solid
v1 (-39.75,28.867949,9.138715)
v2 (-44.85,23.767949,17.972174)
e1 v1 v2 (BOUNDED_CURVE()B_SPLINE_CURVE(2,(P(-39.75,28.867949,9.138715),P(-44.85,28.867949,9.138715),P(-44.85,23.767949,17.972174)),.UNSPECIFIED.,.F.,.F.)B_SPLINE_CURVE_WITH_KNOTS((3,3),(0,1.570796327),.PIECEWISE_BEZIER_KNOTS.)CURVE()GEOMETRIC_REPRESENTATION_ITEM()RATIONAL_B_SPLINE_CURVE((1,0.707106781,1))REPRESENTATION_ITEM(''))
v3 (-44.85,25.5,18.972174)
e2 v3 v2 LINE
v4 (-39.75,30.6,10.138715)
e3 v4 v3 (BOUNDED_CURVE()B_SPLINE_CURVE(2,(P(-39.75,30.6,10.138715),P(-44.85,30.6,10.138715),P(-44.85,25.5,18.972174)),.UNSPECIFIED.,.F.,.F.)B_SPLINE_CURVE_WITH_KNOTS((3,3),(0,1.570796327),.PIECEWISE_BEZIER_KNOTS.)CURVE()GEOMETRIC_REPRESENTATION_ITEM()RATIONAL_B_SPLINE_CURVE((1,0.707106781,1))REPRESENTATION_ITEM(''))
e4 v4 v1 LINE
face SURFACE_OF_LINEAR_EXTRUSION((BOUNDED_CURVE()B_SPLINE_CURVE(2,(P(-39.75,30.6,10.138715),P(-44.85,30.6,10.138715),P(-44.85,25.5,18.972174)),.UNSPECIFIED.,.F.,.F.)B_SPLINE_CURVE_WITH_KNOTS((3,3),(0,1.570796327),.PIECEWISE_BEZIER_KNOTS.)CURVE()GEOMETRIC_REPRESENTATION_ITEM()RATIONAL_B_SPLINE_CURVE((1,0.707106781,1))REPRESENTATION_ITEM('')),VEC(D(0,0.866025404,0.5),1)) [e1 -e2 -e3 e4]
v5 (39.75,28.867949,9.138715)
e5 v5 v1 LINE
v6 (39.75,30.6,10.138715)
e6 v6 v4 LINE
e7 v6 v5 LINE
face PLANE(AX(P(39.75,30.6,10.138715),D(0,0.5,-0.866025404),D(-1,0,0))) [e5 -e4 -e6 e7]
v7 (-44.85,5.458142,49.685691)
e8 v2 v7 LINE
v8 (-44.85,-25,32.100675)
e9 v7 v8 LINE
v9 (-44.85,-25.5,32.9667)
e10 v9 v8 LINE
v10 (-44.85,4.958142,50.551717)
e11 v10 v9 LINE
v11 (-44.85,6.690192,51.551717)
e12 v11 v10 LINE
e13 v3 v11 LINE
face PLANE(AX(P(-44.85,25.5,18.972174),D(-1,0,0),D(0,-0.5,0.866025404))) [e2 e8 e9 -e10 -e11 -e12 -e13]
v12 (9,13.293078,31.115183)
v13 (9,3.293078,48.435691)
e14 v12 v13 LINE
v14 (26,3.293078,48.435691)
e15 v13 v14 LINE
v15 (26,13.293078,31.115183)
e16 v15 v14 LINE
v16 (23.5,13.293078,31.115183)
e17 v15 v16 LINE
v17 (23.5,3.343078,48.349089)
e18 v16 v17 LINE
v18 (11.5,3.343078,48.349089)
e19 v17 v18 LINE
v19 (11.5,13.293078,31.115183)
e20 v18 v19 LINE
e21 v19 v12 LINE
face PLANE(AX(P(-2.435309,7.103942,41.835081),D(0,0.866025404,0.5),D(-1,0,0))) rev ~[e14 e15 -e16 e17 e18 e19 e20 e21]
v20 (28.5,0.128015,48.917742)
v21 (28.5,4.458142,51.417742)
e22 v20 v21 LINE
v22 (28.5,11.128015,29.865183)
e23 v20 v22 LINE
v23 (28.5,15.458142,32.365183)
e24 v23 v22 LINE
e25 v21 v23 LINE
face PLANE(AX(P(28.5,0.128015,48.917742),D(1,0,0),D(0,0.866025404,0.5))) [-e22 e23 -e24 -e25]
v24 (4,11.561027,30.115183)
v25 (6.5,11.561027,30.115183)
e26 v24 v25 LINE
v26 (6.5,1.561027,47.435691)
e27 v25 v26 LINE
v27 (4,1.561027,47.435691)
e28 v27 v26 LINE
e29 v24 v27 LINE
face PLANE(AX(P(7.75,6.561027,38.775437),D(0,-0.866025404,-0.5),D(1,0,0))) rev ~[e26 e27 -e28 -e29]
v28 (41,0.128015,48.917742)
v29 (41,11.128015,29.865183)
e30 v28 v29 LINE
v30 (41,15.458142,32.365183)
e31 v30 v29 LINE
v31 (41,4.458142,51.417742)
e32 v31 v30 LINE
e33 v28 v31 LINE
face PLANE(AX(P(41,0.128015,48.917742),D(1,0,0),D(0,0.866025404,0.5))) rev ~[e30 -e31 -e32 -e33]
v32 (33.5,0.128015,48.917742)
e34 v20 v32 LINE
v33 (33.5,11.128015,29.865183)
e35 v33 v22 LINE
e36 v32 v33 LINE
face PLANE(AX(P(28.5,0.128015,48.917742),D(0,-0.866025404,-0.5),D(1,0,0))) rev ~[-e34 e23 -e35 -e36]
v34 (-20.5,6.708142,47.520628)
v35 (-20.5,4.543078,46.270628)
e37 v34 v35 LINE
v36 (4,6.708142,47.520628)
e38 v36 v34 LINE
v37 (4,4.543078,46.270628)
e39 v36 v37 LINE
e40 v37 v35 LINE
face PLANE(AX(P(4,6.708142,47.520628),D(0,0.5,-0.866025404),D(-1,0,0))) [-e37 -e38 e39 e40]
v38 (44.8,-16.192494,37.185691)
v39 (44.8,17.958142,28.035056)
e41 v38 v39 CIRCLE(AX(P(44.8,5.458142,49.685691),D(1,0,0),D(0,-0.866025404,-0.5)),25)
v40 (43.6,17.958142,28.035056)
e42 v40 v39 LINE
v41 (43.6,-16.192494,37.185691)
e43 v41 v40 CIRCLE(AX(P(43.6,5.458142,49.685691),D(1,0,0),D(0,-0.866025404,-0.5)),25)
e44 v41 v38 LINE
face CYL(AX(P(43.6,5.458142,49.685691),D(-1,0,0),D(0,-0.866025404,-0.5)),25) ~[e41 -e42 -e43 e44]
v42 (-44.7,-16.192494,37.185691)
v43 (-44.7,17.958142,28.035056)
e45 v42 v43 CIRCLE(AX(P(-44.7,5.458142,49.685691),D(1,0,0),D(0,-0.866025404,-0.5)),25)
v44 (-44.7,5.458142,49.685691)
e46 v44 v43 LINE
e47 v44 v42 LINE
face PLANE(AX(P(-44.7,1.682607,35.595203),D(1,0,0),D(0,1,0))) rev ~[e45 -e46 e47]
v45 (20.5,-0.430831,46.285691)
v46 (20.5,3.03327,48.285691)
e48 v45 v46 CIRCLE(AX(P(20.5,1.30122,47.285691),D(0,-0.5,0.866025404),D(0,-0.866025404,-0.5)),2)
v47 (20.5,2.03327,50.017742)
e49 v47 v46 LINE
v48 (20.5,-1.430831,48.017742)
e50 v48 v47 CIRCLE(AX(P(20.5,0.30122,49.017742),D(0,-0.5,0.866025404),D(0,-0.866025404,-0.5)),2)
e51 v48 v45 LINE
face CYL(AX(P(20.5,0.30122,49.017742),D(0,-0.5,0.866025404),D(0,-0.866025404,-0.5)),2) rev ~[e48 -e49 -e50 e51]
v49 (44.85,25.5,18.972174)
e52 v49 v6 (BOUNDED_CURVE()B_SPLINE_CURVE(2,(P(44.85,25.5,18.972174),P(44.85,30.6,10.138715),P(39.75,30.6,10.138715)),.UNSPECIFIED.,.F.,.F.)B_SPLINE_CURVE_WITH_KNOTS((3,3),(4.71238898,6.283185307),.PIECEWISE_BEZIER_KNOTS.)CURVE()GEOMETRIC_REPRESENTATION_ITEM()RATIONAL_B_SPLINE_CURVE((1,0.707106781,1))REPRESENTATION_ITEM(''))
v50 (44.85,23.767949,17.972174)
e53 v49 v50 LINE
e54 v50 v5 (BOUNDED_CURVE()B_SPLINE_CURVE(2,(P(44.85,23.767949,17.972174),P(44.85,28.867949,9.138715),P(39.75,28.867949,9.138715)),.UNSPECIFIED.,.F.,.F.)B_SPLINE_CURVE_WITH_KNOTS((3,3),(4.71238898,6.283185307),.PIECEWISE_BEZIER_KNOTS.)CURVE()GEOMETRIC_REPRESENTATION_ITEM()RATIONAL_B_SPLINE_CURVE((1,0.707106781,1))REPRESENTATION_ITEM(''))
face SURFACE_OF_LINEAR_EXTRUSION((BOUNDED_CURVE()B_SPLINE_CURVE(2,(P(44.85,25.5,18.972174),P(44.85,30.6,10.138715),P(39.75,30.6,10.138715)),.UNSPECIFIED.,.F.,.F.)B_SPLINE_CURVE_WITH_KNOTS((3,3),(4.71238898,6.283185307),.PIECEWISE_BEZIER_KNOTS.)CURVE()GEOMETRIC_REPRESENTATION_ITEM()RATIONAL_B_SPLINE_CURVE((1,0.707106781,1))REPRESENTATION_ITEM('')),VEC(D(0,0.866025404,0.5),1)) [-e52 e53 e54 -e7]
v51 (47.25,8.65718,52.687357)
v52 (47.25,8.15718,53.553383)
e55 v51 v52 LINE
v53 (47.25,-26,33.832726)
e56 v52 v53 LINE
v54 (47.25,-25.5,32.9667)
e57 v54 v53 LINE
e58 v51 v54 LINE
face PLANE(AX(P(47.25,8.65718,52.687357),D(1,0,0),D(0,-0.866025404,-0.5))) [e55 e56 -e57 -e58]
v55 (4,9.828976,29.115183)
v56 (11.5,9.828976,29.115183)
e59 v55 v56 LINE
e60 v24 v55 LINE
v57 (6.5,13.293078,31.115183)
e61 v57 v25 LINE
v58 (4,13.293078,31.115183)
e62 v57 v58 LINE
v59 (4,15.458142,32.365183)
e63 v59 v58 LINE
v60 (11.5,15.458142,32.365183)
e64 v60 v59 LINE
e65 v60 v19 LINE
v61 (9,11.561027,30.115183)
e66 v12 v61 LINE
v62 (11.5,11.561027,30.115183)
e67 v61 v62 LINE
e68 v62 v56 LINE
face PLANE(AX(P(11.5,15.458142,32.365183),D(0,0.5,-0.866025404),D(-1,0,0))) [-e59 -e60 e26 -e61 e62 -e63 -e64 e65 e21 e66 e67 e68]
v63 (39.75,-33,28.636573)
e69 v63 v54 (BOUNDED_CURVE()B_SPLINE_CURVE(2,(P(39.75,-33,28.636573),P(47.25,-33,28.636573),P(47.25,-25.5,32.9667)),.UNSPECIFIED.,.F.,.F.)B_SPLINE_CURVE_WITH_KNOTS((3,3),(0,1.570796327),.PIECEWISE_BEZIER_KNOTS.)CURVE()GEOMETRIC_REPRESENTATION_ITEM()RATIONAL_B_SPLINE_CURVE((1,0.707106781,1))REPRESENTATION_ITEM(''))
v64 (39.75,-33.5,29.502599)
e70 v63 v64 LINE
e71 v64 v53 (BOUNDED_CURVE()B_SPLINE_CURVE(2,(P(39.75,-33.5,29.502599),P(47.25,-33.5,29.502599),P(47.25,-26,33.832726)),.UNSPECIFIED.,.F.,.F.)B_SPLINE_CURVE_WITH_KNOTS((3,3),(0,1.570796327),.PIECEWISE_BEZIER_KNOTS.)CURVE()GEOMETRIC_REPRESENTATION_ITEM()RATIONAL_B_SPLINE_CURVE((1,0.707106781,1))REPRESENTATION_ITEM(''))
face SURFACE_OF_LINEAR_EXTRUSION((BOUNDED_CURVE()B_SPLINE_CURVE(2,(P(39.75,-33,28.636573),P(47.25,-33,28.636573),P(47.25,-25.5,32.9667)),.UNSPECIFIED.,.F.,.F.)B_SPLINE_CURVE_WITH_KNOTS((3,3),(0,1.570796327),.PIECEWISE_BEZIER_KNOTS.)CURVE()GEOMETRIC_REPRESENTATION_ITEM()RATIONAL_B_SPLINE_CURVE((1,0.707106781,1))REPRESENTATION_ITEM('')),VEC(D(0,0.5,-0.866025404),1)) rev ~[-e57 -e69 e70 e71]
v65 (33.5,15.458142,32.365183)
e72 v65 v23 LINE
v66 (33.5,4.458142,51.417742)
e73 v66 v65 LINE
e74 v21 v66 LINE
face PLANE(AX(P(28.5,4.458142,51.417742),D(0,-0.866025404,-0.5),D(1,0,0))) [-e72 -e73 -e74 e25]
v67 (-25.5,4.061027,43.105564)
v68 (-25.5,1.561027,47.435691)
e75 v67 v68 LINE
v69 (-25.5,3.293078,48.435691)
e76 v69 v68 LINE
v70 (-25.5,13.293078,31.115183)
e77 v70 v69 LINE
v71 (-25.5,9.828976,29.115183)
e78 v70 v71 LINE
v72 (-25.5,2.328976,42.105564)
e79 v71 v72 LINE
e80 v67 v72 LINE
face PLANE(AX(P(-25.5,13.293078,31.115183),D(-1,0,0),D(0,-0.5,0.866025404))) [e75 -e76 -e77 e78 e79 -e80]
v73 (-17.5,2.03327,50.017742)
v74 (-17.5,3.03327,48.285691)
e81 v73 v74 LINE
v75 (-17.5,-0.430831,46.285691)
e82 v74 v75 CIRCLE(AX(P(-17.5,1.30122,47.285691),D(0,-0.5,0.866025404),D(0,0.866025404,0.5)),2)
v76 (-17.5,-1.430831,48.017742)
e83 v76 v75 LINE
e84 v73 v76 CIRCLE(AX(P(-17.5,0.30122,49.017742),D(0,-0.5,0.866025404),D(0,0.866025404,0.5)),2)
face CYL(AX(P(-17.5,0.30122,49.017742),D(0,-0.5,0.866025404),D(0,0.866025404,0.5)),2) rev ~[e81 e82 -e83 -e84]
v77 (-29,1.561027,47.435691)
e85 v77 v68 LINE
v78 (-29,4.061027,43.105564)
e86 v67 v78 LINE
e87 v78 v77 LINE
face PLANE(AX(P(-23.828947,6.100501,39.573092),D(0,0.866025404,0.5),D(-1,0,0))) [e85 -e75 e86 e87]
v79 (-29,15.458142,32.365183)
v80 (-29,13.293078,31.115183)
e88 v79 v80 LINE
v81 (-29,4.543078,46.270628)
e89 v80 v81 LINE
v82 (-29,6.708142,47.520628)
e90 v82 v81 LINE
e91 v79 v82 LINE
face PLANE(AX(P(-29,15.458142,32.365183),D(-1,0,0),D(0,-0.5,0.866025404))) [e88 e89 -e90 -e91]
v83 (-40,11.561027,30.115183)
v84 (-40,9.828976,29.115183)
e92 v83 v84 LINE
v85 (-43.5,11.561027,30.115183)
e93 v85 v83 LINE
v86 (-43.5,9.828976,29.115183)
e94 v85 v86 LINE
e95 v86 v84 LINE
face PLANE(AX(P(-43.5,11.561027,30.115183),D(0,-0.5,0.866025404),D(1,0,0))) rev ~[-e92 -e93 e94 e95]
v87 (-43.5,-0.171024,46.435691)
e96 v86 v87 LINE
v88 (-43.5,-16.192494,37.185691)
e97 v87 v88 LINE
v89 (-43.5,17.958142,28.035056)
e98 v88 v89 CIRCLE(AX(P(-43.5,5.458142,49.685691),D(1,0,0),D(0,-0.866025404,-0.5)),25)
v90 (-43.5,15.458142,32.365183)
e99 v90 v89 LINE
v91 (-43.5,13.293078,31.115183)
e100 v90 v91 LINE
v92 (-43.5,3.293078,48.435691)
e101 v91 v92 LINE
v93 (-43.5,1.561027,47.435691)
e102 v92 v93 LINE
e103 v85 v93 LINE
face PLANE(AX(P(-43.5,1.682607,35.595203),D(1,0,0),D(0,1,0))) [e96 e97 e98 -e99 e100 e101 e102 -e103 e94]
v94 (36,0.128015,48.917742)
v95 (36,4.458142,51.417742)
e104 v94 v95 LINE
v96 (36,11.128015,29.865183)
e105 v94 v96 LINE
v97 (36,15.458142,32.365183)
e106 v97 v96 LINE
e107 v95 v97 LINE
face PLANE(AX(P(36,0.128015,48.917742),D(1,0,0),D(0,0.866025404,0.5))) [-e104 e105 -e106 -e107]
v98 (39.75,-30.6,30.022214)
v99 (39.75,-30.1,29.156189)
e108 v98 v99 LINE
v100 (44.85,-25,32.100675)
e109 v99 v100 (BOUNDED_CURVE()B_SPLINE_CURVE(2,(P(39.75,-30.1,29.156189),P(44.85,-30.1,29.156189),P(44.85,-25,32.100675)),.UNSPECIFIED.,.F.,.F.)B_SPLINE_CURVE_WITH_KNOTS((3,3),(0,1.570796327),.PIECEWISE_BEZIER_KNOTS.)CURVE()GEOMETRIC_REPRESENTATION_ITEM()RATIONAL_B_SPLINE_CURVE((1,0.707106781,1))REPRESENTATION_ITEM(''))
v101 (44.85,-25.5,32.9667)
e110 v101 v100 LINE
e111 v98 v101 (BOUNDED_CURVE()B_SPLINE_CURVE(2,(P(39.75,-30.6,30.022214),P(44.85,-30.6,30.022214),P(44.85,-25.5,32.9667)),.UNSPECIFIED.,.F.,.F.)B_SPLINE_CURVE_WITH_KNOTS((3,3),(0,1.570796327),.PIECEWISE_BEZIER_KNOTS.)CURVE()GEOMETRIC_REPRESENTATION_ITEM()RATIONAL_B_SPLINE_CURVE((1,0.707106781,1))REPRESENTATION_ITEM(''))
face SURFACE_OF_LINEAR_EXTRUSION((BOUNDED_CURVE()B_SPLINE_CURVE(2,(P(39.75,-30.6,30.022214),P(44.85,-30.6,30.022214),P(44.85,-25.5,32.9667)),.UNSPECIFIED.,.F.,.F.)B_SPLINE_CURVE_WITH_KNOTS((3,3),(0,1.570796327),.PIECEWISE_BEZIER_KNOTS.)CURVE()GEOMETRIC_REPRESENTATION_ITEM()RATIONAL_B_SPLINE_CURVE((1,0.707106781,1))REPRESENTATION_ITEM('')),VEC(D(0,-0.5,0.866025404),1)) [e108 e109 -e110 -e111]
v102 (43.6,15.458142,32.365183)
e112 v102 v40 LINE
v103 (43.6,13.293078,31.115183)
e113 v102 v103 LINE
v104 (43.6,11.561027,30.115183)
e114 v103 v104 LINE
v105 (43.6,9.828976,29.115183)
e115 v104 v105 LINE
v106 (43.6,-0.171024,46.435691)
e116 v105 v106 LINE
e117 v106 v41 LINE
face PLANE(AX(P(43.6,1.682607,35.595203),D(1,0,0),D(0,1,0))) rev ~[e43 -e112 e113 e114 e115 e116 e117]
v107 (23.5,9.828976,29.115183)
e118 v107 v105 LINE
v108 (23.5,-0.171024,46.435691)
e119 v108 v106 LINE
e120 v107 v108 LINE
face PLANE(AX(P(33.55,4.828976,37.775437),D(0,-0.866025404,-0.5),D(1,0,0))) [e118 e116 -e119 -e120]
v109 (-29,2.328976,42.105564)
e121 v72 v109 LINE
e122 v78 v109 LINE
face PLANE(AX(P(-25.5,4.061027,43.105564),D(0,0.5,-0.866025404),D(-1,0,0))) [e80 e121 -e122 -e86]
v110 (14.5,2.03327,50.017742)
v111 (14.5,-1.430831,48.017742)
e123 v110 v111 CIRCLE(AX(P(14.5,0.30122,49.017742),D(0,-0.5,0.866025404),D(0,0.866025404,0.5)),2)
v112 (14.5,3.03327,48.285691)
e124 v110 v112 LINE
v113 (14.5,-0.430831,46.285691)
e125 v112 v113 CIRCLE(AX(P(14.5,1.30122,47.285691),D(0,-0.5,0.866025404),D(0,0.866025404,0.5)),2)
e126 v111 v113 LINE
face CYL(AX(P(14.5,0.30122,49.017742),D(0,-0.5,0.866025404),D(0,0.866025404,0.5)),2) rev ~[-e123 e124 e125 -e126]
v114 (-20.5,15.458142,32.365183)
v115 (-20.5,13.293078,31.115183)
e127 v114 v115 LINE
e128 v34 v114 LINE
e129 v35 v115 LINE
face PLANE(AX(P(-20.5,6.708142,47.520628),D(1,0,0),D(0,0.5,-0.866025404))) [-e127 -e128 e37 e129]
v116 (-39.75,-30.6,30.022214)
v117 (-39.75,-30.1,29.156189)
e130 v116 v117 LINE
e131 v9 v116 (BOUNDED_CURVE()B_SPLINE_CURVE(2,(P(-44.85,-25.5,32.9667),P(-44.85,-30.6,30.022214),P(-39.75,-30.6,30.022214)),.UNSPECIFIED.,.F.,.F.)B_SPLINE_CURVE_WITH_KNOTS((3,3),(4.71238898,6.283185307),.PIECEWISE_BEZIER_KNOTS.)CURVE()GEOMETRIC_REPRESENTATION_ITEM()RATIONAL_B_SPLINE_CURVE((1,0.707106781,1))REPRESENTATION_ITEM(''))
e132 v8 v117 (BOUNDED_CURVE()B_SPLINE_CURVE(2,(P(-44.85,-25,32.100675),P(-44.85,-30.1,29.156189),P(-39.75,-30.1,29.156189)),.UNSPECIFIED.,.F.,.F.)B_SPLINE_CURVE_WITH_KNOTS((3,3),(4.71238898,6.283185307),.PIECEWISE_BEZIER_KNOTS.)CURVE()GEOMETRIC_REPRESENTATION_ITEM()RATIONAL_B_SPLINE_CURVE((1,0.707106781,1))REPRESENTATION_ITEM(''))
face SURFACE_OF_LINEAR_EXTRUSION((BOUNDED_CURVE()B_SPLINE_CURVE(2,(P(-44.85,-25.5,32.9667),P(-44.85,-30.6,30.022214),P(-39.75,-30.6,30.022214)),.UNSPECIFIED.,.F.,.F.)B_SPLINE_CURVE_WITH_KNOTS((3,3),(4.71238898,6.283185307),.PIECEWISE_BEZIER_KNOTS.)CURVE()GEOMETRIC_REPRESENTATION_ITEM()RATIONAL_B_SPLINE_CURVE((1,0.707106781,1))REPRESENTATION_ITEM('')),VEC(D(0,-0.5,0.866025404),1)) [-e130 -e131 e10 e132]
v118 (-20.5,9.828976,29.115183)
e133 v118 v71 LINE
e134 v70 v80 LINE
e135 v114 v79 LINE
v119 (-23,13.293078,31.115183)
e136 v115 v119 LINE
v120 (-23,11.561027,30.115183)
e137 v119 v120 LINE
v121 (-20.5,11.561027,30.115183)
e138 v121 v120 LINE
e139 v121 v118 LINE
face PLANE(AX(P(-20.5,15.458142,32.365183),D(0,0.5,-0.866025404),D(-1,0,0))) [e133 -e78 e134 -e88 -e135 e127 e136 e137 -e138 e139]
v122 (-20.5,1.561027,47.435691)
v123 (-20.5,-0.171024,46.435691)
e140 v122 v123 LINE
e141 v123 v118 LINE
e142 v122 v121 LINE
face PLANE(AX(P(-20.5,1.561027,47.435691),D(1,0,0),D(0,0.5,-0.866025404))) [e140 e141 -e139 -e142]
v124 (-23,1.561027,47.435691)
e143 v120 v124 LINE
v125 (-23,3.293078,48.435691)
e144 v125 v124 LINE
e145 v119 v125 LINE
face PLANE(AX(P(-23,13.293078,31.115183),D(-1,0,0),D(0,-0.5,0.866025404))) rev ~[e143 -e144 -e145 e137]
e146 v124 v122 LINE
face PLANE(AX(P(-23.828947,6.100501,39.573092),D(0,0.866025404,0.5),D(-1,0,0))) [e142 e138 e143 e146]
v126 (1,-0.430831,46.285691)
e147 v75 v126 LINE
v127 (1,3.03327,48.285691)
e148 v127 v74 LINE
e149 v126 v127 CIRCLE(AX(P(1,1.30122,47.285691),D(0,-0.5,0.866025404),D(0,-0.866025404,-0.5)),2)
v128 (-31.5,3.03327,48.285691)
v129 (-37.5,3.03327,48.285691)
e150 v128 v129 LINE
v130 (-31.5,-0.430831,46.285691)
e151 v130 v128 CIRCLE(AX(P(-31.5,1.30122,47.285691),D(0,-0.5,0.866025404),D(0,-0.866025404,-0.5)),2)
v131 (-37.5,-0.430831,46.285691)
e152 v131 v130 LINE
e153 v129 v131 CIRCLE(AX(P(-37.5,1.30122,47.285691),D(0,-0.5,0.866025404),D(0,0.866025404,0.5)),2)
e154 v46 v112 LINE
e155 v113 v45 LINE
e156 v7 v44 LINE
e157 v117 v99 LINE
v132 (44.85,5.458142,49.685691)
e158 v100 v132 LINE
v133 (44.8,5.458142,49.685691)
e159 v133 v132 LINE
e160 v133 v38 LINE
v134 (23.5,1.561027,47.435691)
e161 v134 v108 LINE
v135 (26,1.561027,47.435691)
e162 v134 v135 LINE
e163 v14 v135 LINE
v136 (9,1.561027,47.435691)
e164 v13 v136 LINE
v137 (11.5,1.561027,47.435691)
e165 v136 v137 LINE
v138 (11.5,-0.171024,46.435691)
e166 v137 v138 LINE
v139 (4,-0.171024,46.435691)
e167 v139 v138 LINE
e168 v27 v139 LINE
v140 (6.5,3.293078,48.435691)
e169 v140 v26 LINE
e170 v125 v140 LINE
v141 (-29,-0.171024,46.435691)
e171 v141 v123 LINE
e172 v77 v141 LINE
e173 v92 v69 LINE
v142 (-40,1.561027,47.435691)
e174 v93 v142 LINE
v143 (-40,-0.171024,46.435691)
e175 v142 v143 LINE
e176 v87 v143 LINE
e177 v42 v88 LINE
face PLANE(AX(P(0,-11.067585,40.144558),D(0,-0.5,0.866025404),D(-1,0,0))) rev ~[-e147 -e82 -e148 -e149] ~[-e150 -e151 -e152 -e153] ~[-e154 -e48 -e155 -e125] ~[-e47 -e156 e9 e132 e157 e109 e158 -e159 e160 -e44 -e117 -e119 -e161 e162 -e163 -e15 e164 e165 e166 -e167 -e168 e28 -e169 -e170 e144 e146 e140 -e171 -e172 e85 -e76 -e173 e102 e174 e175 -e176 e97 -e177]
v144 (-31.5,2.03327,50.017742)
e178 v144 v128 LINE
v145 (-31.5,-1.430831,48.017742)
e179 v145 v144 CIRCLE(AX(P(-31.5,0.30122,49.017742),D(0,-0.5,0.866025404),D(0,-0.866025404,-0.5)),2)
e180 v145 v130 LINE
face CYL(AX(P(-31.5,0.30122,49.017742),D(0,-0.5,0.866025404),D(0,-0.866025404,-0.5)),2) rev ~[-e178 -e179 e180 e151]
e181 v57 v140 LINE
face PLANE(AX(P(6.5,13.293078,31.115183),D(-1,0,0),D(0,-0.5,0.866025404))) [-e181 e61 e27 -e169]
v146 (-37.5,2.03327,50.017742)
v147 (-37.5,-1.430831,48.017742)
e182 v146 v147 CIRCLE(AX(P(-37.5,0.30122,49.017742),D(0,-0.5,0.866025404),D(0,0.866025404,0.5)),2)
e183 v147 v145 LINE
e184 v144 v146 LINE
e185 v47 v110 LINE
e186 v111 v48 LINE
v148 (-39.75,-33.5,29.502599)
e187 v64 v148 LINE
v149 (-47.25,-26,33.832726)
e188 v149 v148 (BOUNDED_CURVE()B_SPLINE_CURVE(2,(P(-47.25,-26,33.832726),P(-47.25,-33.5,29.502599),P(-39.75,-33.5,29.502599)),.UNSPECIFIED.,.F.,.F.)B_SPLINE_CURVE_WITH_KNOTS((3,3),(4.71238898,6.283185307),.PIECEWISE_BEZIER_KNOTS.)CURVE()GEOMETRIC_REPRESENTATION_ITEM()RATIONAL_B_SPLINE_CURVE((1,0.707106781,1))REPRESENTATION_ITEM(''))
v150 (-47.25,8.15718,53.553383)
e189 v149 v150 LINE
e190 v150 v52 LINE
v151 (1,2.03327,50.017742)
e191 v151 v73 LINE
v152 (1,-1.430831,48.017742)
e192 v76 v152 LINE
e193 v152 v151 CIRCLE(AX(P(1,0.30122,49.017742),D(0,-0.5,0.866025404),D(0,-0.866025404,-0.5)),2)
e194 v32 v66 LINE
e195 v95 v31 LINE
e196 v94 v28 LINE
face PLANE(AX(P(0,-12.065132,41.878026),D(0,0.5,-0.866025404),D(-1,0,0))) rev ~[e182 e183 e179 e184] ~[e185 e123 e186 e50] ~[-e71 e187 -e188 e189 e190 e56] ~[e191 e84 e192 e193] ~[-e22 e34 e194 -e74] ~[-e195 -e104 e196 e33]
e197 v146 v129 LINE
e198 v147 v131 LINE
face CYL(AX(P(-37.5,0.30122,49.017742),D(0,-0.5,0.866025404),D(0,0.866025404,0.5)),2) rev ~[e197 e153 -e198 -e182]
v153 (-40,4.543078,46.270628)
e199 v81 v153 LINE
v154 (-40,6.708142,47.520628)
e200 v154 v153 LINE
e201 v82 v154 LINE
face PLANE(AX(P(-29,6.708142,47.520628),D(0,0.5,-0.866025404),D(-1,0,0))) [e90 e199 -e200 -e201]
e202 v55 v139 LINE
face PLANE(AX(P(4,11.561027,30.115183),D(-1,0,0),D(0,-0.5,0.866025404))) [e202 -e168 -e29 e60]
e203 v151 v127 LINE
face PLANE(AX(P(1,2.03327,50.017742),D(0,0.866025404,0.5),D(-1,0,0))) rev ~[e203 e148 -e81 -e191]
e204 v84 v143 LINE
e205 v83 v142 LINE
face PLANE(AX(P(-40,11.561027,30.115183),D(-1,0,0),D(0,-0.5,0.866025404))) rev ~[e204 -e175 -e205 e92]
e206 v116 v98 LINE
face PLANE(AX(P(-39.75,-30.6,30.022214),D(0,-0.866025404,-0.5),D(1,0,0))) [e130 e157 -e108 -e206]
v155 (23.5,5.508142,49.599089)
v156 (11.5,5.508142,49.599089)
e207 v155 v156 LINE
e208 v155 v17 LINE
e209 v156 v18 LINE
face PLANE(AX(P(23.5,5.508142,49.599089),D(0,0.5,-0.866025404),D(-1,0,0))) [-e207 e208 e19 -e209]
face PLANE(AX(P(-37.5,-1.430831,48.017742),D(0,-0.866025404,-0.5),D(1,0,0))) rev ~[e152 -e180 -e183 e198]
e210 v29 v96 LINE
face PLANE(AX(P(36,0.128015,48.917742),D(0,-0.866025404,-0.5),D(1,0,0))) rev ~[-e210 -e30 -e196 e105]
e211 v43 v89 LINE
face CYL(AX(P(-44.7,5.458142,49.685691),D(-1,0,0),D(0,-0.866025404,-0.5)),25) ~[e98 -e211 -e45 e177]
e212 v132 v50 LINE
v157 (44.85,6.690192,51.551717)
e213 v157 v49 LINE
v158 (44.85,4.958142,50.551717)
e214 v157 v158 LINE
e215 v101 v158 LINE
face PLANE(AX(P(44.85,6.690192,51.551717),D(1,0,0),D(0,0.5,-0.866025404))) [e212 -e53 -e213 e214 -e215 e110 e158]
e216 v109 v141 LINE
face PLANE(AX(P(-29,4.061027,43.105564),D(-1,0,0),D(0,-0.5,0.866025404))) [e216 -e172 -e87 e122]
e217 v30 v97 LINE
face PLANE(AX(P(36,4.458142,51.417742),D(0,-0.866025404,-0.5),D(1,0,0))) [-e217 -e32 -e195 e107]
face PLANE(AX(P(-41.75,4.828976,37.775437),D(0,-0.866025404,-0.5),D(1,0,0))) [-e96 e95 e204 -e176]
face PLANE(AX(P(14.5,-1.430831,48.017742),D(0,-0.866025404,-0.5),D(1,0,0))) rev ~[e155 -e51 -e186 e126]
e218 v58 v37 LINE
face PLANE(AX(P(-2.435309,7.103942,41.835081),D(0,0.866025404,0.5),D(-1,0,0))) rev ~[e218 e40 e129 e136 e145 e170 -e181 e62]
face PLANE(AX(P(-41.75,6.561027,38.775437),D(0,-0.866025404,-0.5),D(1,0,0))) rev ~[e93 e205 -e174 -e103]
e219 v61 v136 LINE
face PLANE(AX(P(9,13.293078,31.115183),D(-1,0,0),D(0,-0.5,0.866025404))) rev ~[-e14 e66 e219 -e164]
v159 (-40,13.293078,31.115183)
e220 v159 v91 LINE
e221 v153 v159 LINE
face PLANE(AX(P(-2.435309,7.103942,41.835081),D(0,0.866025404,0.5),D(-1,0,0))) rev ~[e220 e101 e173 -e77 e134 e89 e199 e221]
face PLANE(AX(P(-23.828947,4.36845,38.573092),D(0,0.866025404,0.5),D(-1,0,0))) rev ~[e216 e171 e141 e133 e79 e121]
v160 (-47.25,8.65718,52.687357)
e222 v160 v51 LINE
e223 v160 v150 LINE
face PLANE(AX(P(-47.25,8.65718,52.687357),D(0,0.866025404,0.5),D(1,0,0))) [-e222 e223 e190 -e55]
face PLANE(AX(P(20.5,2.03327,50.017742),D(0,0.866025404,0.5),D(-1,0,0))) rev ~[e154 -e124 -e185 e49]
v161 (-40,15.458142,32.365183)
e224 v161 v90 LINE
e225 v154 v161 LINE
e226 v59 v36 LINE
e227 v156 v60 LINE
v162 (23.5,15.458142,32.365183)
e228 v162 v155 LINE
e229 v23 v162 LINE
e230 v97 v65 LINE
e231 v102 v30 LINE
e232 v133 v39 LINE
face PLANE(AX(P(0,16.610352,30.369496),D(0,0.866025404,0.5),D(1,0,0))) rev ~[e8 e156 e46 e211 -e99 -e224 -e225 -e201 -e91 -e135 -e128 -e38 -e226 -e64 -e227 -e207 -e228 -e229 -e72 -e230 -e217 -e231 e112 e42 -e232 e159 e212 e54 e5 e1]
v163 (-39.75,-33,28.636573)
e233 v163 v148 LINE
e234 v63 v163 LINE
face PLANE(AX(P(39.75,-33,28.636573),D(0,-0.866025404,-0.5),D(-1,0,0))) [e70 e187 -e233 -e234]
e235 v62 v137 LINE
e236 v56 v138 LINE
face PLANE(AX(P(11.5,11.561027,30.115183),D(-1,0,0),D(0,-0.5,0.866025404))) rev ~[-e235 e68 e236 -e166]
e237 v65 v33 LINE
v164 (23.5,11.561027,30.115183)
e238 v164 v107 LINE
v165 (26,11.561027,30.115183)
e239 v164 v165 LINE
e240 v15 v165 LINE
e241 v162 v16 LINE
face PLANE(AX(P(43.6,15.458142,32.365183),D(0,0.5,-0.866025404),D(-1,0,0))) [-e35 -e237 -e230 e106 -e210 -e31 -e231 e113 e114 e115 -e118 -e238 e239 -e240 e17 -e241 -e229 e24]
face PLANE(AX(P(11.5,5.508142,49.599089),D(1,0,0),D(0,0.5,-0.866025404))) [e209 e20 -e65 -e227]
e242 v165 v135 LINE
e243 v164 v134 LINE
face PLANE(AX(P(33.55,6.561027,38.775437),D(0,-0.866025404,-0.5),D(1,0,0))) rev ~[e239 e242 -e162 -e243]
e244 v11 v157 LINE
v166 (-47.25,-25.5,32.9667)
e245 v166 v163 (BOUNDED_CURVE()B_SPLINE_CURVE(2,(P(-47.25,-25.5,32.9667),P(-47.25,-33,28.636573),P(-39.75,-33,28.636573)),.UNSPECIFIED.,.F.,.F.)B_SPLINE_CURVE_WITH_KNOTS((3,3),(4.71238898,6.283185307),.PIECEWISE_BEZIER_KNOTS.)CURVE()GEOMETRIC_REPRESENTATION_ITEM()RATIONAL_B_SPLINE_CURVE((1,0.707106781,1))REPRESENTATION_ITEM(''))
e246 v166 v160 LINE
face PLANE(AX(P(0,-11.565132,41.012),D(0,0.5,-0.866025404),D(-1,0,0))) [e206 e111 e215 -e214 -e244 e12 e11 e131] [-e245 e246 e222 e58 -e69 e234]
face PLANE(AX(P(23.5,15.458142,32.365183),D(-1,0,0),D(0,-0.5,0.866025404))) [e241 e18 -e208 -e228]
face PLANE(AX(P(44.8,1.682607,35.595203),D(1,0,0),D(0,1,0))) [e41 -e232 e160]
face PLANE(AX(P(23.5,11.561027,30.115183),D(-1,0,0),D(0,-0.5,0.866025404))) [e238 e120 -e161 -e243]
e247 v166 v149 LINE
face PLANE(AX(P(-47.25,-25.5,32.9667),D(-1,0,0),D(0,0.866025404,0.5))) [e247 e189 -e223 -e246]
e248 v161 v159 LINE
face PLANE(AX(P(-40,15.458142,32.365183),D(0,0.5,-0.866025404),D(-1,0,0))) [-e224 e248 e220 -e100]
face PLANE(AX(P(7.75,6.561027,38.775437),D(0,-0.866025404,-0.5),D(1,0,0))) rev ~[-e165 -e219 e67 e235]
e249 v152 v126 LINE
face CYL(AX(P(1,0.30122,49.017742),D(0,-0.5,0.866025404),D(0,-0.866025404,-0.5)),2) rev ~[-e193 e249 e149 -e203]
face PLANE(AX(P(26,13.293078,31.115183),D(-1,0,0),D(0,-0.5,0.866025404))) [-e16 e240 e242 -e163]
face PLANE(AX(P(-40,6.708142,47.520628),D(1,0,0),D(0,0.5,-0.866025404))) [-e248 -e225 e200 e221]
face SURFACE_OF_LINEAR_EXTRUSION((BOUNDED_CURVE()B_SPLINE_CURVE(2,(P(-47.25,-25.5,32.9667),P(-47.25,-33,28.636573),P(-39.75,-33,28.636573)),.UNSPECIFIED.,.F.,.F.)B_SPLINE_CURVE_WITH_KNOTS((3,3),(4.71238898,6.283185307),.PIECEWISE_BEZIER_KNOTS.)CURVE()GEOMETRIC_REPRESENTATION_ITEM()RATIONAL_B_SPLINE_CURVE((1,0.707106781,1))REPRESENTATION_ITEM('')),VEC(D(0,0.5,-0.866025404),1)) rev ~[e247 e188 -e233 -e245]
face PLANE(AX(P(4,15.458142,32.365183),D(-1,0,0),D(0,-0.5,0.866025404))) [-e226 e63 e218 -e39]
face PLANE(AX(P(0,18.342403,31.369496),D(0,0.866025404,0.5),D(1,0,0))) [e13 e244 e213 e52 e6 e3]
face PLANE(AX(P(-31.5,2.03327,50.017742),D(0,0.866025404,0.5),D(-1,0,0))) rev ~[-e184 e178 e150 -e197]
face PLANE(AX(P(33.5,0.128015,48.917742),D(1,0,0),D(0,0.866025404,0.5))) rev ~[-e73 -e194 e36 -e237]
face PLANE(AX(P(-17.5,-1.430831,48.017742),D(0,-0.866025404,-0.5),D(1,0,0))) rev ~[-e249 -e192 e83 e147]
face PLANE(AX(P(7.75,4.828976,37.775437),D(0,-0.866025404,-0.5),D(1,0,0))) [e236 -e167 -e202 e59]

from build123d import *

# Parameters (mm, degrees)
SKETCH020_AS_DRAWN_W                      = 5
SKETCH020_AS_DRAWN_H                      = 5
EXTRUDE021_DEPTH                          = 25
EXTRUDE021_ONTO_SKETCH020_PLACEMENT_ANGLE = 30
SKETCH018_AS_DRAWN_W                      = 17.6
SKETCH018_AS_DRAWN_H                      = 20
SKETCH018_AS_DRAWN_W_2                    = 2.5
EXTRUDE019_DEPTH                          = 2
EXTRUDE019_ONTO_SKETCH018_PLACEMENT_ANGLE = 120
EXTRUDE018_DEPTH                          = 2.5
EXTRUDE018_ONTO_SKETCH017_PLACEMENT_ANGLE = 120
EXTRUDE017_DEPTH                          = 1.2
EXTRUDE016_DEPTH                          = 1.2
EXTRUDE014_DEPTH                          = 1
EXTRUDE015_DEPTH                          = 1
EXTRUDE015_ONTO_SKETCH015_PLACEMENT_ANGLE = 30
EXTRUDE013_DEPTH                          = 2
SKETCH019_AS_DRAWN_W                      = 3.5
SKETCH019_AS_DRAWN_H                      = 20
SKETCH019_AS_DRAWN_W_2                    = 7.5
SKETCH019_AS_DRAWN_W_3                    = 20.1
EXTRUDE020_DEPTH                          = 2
EXTRUDE020_ONTO_SKETCH019_PLACEMENT_ANGLE = 120


with BuildPart() as extrude021:
    # Sketch020 as drawn → Extrude021 (new)
    with BuildSketch(Plane.XY):
        with BuildLine():
            ThreePointArc((-17.5, 26.7697348593), (-19.5, 24.7697348593), (-17.5, 22.7697348593))
            Line((-17.5, 22.7697348593), (1, 22.7697348593))
            ThreePointArc((1, 22.7697348593), (3, 24.7697348593), (1, 26.7697348593))
            Line((1, 26.7697348593), (-17.5, 26.7697348593))
        make_face()
        with BuildLine():
            ThreePointArc((-31.5, 22.7697348593), (-29.5, 24.7697348593), (-31.5, 26.7697348593))
            Line((-31.5, 26.7697348593), (-37.5, 26.7697348593))
            ThreePointArc((-37.5, 26.7697348593), (-39.5, 24.7697348593), (-37.5, 22.7697348593))
            Line((-37.5, 22.7697348593), (-31.5, 22.7697348593))
        make_face()
        with BuildLine():
            ThreePointArc((14.5, 26.7697348593), (12.5, 24.7697348593), (14.5, 22.7697348593))
            Line((14.5, 22.7697348593), (20.5, 22.7697348593))
            ThreePointArc((20.5, 22.7697348593), (22.5, 24.7697348593), (20.5, 26.7697348593))
            Line((20.5, 26.7697348593), (14.5, 26.7697348593))
        make_face()
        with Locations((31, 27.0697348593)):
            Rectangle(SKETCH020_AS_DRAWN_W, SKETCH020_AS_DRAWN_H)
        with Locations((38.5, 27.0697348593)):
            Rectangle(SKETCH020_AS_DRAWN_W, SKETCH020_AS_DRAWN_H)
    extrude(amount=-EXTRUDE021_DEPTH)


with BuildPart() as extrude021_1:
    # Extrude021 onto Sketch020 placement: moved
    add(extrude021.part.moved(Location((0, -21.15, 36.6328745801))).rotate(Axis((0, -21.15, 36.6328745801), (1, 0, 0)), EXTRUDE021_ONTO_SKETCH020_PLACEMENT_ANGLE))


with BuildPart() as extrude019:
    # Sketch018 as drawn → Extrude019 (new)
    with BuildSketch(Plane.XY):
        with Locations((34.8, 30.3)):
            Rectangle(SKETCH018_AS_DRAWN_W, SKETCH018_AS_DRAWN_H)
        with Locations((-24.25, 30.3)):
            Rectangle(SKETCH018_AS_DRAWN_W_2, SKETCH018_AS_DRAWN_H)
        with Locations((7.75, 30.3)):
            Rectangle(SKETCH018_AS_DRAWN_W_2, SKETCH018_AS_DRAWN_H)
    extrude(amount=EXTRUDE019_DEPTH)


with BuildPart() as extrude019_1:
    # Extrude019 onto Sketch018 placement: moved
    add(extrude019.part.moved(Location((0, 23.4430780618, 13.5348674296))).rotate(Axis((0, 23.4430780618, 13.5348674296), (1, 0, 0)), EXTRUDE019_ONTO_SKETCH018_PLACEMENT_ANGLE))


with BuildPart() as extrude018:
    # Sketch017 as drawn → Extrude018 (new)
    with BuildSketch(Plane.XY):
        Polygon((-43.5, 40.3), (43.6, 40.3), (43.6, 20.3), (23.5, 20.3), (23.5, 40.2), (11.5, 40.2), (11.5, 20.3), (4, 20.3), (4, 37.8), (-20.5, 37.8), (-20.5, 20.3), (-29, 20.3), (-29, 37.8), (-40, 37.8), (-40, 20.3), (-43.5, 20.3), align=None)
    extrude(amount=EXTRUDE018_DEPTH)


with BuildPart() as extrude018_1:
    # Extrude018 onto Sketch017 placement: moved
    add(extrude018.part.moved(Location((0, 25.6081415713, 14.7848674296))).rotate(Axis((0, 25.6081415713, 14.7848674296), (1, 0, 0)), EXTRUDE018_ONTO_SKETCH017_PLACEMENT_ANGLE))


with BuildPart() as extrude017:
    # Sketch016 → Extrude017 (new body)
    with BuildSketch(Plane.YZ):
        with BuildLine():
            Line((5.4581415713, 49.6856912021), (-16.1924935233, 37.1856912021))
            ThreePointArc((-16.1924935233, 37.1856912021), (-1.0123345563, 25.5375455449), (17.9581415713, 28.0350561075))
            Line((5.4581415713, 49.6856912021), (17.9581415713, 28.0350561075))
        make_face()
    extrude(amount=EXTRUDE017_DEPTH)


with BuildPart() as extrude017_1:
    # Extrude017 placement: moved
    add(extrude017.part.moved(Location((-44.7, 0, 0))))


with BuildPart() as extrude016:
    # Sketch016 → Extrude016 (new body)
    with BuildSketch(Plane.YZ):
        with BuildLine():
            Line((5.4581415713, 49.6856912021), (-16.1924935233, 37.1856912021))
            ThreePointArc((-16.1924935233, 37.1856912021), (-1.0123345563, 25.5375455449), (17.9581415713, 28.0350561075))
            Line((5.4581415713, 49.6856912021), (17.9581415713, 28.0350561075))
        make_face()
    extrude(amount=EXTRUDE016_DEPTH)


with BuildPart() as extrude016_1:
    # Extrude016 placement: moved
    add(extrude016.part.moved(Location((43.6, 0, 0))))


with BuildPart() as extrude014:
    # Facebinder001 → Extrude014 (new body)
    with BuildSketch(Plane(origin=(0, -11.8962827712, 40.8208101747), x_dir=(-1, 0, 0), z_dir=(0, -0.5, 0.8660254038))):
        with BuildLine():
            Line((44.85, -21.4618128624), (44.85, 15.708219608))
            add(Edge.make_bspline(
                [(44.85, 15.708219608), (44.85, 21.5971923538), (39.75, 21.5971923538)],
                knots=[4.7123889804, 4.7123889804, 4.7123889804, 6.2831853072, 6.2831853072, 6.2831853072], degree=2, weights=[1, 0.7071067812, 1]))
            Line((39.75, 21.5971923538), (-39.75, 21.5971923538))
            add(Edge.make_bspline(
                [(-39.75, 21.5971923538), (-44.85, 21.5971923538), (-44.85, 15.708219608)],
                knots=[0, 0, 0, 1.5707963268, 1.5707963268, 1.5707963268], degree=2, weights=[1, 0.7071067812, 1]))
            Line((-44.85, 15.708219608), (-44.85, -21.4618128624))
            Line((-44.85, -21.4618128624), (44.85, -21.4618128624))
        make_face()
    extrude(amount=-EXTRUDE014_DEPTH)


with BuildPart() as extrude015:
    # Sketch015 as drawn → Extrude015 (new)
    with BuildSketch(Plane.XY):
        with BuildLine():
            Line((-47.25, -5.6002976111), (-47.25, 31.8410161514))
            Line((-47.25, 31.8410161514), (-47.25, 33.8410161514))
            Line((-47.25, 33.8410161514), (-45.25, 33.8410161514))
            Line((-45.25, 33.8410161514), (45.25, 33.8410161514))
            Line((45.25, 33.8410161514), (47.25, 33.8410161514))
            Line((47.25, 33.8410161514), (47.25, 31.8410161514))
            Line((47.25, 31.8410161514), (47.25, -5.6002976111))
            add(Edge.make_bspline(
                [(39.75, -14.260551649), (47.25, -14.260551649), (47.25, -5.6002976111)],
                knots=[0, 0, 0, 1.5707963268, 1.5707963268, 1.5707963268], degree=2, weights=[1, 0.7071067812, 1]))
            Line((39.75, -14.260551649), (-39.75, -14.260551649))
            add(Edge.make_bspline(
                [(-47.25, -5.6002976111), (-47.25, -14.260551649), (-39.75, -14.260551649)],
                knots=[4.7123889804, 4.7123889804, 4.7123889804, 6.2831853072, 6.2831853072, 6.2831853072], degree=2, weights=[1, 0.7071067812, 1]))
        make_face()
    extrude(amount=EXTRUDE015_DEPTH)


with BuildPart() as extrude015_1:
    # Extrude015 onto Sketch015 placement: moved
    add(extrude015.part.moved(Location((0, -20.65, 35.7668491763))).rotate(Axis((0, -20.65, 35.7668491763), (1, 0, 0)), EXTRUDE015_ONTO_SKETCH015_PLACEMENT_ANGLE))


with BuildPart() as inner_complete:
    # Facebinder → Extrude013 (new body)
    with BuildSketch(Plane(origin=(0, 18.5885038732, 30.9432365735), x_dir=(1, 0, 0), z_dir=(0, 0.8660254038, 0.5))):
        with BuildLine():
            Line((39.75, 24.0229922536), (-39.75, 24.0229922536))
            add(Edge.make_bspline(
                [(-39.75, 24.0229922536), (-44.85, 24.0229922536), (-44.85, 13.8229922536)],
                knots=[0, 0, 0, 1.5707963268, 1.5707963268, 1.5707963268], degree=2, weights=[1, 0.7071067812, 1]))
            Line((-44.85, 13.8229922536), (-44.85, -23.7966229887))
            Line((-44.85, -23.7966229887), (44.85, -23.7966229887))
            Line((44.85, -23.7966229887), (44.85, 13.8229922536))
            add(Edge.make_bspline(
                [(44.85, 13.8229922536), (44.85, 24.0229922536), (39.75, 24.0229922536)],
                knots=[4.7123889804, 4.7123889804, 4.7123889804, 6.2831853072, 6.2831853072, 6.2831853072], degree=2, weights=[1, 0.7071067812, 1]))
        make_face()
    extrude(amount=-EXTRUDE013_DEPTH)

    # Connect003: union Extrude014, Extrude015
    add(extrude014.part)
    add(extrude015_1.part)


with BuildPart() as cut006:
    # Sketch019 as drawn → Extrude020 (new)
    with BuildSketch(Plane.XY):
        with Locations((-41.75, 30.3)):
            Rectangle(SKETCH019_AS_DRAWN_W, SKETCH019_AS_DRAWN_H)
        Polygon((-29, 40.3), (-20.5, 40.3), (-20.5, 20.3), (-25.5, 20.3), (-25.5, 35.3), (-29, 35.3), align=None)
        with Locations((7.75, 30.3)):
            Rectangle(SKETCH019_AS_DRAWN_W_2, SKETCH019_AS_DRAWN_H)
        with Locations((33.55, 30.3)):
            Rectangle(SKETCH019_AS_DRAWN_W_3, SKETCH019_AS_DRAWN_H)
    extrude(amount=EXTRUDE020_DEPTH)


with BuildPart() as cut006_1:
    # Extrude020 onto Sketch019 placement: moved
    add(cut006.part.moved(Location((0, 21.7110272543, 12.5348674296))).rotate(Axis((0, 21.7110272543, 12.5348674296), (1, 0, 0)), EXTRUDE020_ONTO_SKETCH019_PLACEMENT_ANGLE))

    # Connect004: union Extrude019, Extrude018, Extrude017, Extrude016, inner_complete
    add(extrude019_1.part)
    add(extrude018_1.part)
    add(extrude017_1.part)
    add(extrude016_1.part)
    add(inner_complete.part)

    # Cut006: cut Extrude021
    add(extrude021_1.part, mode=Mode.SUBTRACT)


solid = cut006_1.part
